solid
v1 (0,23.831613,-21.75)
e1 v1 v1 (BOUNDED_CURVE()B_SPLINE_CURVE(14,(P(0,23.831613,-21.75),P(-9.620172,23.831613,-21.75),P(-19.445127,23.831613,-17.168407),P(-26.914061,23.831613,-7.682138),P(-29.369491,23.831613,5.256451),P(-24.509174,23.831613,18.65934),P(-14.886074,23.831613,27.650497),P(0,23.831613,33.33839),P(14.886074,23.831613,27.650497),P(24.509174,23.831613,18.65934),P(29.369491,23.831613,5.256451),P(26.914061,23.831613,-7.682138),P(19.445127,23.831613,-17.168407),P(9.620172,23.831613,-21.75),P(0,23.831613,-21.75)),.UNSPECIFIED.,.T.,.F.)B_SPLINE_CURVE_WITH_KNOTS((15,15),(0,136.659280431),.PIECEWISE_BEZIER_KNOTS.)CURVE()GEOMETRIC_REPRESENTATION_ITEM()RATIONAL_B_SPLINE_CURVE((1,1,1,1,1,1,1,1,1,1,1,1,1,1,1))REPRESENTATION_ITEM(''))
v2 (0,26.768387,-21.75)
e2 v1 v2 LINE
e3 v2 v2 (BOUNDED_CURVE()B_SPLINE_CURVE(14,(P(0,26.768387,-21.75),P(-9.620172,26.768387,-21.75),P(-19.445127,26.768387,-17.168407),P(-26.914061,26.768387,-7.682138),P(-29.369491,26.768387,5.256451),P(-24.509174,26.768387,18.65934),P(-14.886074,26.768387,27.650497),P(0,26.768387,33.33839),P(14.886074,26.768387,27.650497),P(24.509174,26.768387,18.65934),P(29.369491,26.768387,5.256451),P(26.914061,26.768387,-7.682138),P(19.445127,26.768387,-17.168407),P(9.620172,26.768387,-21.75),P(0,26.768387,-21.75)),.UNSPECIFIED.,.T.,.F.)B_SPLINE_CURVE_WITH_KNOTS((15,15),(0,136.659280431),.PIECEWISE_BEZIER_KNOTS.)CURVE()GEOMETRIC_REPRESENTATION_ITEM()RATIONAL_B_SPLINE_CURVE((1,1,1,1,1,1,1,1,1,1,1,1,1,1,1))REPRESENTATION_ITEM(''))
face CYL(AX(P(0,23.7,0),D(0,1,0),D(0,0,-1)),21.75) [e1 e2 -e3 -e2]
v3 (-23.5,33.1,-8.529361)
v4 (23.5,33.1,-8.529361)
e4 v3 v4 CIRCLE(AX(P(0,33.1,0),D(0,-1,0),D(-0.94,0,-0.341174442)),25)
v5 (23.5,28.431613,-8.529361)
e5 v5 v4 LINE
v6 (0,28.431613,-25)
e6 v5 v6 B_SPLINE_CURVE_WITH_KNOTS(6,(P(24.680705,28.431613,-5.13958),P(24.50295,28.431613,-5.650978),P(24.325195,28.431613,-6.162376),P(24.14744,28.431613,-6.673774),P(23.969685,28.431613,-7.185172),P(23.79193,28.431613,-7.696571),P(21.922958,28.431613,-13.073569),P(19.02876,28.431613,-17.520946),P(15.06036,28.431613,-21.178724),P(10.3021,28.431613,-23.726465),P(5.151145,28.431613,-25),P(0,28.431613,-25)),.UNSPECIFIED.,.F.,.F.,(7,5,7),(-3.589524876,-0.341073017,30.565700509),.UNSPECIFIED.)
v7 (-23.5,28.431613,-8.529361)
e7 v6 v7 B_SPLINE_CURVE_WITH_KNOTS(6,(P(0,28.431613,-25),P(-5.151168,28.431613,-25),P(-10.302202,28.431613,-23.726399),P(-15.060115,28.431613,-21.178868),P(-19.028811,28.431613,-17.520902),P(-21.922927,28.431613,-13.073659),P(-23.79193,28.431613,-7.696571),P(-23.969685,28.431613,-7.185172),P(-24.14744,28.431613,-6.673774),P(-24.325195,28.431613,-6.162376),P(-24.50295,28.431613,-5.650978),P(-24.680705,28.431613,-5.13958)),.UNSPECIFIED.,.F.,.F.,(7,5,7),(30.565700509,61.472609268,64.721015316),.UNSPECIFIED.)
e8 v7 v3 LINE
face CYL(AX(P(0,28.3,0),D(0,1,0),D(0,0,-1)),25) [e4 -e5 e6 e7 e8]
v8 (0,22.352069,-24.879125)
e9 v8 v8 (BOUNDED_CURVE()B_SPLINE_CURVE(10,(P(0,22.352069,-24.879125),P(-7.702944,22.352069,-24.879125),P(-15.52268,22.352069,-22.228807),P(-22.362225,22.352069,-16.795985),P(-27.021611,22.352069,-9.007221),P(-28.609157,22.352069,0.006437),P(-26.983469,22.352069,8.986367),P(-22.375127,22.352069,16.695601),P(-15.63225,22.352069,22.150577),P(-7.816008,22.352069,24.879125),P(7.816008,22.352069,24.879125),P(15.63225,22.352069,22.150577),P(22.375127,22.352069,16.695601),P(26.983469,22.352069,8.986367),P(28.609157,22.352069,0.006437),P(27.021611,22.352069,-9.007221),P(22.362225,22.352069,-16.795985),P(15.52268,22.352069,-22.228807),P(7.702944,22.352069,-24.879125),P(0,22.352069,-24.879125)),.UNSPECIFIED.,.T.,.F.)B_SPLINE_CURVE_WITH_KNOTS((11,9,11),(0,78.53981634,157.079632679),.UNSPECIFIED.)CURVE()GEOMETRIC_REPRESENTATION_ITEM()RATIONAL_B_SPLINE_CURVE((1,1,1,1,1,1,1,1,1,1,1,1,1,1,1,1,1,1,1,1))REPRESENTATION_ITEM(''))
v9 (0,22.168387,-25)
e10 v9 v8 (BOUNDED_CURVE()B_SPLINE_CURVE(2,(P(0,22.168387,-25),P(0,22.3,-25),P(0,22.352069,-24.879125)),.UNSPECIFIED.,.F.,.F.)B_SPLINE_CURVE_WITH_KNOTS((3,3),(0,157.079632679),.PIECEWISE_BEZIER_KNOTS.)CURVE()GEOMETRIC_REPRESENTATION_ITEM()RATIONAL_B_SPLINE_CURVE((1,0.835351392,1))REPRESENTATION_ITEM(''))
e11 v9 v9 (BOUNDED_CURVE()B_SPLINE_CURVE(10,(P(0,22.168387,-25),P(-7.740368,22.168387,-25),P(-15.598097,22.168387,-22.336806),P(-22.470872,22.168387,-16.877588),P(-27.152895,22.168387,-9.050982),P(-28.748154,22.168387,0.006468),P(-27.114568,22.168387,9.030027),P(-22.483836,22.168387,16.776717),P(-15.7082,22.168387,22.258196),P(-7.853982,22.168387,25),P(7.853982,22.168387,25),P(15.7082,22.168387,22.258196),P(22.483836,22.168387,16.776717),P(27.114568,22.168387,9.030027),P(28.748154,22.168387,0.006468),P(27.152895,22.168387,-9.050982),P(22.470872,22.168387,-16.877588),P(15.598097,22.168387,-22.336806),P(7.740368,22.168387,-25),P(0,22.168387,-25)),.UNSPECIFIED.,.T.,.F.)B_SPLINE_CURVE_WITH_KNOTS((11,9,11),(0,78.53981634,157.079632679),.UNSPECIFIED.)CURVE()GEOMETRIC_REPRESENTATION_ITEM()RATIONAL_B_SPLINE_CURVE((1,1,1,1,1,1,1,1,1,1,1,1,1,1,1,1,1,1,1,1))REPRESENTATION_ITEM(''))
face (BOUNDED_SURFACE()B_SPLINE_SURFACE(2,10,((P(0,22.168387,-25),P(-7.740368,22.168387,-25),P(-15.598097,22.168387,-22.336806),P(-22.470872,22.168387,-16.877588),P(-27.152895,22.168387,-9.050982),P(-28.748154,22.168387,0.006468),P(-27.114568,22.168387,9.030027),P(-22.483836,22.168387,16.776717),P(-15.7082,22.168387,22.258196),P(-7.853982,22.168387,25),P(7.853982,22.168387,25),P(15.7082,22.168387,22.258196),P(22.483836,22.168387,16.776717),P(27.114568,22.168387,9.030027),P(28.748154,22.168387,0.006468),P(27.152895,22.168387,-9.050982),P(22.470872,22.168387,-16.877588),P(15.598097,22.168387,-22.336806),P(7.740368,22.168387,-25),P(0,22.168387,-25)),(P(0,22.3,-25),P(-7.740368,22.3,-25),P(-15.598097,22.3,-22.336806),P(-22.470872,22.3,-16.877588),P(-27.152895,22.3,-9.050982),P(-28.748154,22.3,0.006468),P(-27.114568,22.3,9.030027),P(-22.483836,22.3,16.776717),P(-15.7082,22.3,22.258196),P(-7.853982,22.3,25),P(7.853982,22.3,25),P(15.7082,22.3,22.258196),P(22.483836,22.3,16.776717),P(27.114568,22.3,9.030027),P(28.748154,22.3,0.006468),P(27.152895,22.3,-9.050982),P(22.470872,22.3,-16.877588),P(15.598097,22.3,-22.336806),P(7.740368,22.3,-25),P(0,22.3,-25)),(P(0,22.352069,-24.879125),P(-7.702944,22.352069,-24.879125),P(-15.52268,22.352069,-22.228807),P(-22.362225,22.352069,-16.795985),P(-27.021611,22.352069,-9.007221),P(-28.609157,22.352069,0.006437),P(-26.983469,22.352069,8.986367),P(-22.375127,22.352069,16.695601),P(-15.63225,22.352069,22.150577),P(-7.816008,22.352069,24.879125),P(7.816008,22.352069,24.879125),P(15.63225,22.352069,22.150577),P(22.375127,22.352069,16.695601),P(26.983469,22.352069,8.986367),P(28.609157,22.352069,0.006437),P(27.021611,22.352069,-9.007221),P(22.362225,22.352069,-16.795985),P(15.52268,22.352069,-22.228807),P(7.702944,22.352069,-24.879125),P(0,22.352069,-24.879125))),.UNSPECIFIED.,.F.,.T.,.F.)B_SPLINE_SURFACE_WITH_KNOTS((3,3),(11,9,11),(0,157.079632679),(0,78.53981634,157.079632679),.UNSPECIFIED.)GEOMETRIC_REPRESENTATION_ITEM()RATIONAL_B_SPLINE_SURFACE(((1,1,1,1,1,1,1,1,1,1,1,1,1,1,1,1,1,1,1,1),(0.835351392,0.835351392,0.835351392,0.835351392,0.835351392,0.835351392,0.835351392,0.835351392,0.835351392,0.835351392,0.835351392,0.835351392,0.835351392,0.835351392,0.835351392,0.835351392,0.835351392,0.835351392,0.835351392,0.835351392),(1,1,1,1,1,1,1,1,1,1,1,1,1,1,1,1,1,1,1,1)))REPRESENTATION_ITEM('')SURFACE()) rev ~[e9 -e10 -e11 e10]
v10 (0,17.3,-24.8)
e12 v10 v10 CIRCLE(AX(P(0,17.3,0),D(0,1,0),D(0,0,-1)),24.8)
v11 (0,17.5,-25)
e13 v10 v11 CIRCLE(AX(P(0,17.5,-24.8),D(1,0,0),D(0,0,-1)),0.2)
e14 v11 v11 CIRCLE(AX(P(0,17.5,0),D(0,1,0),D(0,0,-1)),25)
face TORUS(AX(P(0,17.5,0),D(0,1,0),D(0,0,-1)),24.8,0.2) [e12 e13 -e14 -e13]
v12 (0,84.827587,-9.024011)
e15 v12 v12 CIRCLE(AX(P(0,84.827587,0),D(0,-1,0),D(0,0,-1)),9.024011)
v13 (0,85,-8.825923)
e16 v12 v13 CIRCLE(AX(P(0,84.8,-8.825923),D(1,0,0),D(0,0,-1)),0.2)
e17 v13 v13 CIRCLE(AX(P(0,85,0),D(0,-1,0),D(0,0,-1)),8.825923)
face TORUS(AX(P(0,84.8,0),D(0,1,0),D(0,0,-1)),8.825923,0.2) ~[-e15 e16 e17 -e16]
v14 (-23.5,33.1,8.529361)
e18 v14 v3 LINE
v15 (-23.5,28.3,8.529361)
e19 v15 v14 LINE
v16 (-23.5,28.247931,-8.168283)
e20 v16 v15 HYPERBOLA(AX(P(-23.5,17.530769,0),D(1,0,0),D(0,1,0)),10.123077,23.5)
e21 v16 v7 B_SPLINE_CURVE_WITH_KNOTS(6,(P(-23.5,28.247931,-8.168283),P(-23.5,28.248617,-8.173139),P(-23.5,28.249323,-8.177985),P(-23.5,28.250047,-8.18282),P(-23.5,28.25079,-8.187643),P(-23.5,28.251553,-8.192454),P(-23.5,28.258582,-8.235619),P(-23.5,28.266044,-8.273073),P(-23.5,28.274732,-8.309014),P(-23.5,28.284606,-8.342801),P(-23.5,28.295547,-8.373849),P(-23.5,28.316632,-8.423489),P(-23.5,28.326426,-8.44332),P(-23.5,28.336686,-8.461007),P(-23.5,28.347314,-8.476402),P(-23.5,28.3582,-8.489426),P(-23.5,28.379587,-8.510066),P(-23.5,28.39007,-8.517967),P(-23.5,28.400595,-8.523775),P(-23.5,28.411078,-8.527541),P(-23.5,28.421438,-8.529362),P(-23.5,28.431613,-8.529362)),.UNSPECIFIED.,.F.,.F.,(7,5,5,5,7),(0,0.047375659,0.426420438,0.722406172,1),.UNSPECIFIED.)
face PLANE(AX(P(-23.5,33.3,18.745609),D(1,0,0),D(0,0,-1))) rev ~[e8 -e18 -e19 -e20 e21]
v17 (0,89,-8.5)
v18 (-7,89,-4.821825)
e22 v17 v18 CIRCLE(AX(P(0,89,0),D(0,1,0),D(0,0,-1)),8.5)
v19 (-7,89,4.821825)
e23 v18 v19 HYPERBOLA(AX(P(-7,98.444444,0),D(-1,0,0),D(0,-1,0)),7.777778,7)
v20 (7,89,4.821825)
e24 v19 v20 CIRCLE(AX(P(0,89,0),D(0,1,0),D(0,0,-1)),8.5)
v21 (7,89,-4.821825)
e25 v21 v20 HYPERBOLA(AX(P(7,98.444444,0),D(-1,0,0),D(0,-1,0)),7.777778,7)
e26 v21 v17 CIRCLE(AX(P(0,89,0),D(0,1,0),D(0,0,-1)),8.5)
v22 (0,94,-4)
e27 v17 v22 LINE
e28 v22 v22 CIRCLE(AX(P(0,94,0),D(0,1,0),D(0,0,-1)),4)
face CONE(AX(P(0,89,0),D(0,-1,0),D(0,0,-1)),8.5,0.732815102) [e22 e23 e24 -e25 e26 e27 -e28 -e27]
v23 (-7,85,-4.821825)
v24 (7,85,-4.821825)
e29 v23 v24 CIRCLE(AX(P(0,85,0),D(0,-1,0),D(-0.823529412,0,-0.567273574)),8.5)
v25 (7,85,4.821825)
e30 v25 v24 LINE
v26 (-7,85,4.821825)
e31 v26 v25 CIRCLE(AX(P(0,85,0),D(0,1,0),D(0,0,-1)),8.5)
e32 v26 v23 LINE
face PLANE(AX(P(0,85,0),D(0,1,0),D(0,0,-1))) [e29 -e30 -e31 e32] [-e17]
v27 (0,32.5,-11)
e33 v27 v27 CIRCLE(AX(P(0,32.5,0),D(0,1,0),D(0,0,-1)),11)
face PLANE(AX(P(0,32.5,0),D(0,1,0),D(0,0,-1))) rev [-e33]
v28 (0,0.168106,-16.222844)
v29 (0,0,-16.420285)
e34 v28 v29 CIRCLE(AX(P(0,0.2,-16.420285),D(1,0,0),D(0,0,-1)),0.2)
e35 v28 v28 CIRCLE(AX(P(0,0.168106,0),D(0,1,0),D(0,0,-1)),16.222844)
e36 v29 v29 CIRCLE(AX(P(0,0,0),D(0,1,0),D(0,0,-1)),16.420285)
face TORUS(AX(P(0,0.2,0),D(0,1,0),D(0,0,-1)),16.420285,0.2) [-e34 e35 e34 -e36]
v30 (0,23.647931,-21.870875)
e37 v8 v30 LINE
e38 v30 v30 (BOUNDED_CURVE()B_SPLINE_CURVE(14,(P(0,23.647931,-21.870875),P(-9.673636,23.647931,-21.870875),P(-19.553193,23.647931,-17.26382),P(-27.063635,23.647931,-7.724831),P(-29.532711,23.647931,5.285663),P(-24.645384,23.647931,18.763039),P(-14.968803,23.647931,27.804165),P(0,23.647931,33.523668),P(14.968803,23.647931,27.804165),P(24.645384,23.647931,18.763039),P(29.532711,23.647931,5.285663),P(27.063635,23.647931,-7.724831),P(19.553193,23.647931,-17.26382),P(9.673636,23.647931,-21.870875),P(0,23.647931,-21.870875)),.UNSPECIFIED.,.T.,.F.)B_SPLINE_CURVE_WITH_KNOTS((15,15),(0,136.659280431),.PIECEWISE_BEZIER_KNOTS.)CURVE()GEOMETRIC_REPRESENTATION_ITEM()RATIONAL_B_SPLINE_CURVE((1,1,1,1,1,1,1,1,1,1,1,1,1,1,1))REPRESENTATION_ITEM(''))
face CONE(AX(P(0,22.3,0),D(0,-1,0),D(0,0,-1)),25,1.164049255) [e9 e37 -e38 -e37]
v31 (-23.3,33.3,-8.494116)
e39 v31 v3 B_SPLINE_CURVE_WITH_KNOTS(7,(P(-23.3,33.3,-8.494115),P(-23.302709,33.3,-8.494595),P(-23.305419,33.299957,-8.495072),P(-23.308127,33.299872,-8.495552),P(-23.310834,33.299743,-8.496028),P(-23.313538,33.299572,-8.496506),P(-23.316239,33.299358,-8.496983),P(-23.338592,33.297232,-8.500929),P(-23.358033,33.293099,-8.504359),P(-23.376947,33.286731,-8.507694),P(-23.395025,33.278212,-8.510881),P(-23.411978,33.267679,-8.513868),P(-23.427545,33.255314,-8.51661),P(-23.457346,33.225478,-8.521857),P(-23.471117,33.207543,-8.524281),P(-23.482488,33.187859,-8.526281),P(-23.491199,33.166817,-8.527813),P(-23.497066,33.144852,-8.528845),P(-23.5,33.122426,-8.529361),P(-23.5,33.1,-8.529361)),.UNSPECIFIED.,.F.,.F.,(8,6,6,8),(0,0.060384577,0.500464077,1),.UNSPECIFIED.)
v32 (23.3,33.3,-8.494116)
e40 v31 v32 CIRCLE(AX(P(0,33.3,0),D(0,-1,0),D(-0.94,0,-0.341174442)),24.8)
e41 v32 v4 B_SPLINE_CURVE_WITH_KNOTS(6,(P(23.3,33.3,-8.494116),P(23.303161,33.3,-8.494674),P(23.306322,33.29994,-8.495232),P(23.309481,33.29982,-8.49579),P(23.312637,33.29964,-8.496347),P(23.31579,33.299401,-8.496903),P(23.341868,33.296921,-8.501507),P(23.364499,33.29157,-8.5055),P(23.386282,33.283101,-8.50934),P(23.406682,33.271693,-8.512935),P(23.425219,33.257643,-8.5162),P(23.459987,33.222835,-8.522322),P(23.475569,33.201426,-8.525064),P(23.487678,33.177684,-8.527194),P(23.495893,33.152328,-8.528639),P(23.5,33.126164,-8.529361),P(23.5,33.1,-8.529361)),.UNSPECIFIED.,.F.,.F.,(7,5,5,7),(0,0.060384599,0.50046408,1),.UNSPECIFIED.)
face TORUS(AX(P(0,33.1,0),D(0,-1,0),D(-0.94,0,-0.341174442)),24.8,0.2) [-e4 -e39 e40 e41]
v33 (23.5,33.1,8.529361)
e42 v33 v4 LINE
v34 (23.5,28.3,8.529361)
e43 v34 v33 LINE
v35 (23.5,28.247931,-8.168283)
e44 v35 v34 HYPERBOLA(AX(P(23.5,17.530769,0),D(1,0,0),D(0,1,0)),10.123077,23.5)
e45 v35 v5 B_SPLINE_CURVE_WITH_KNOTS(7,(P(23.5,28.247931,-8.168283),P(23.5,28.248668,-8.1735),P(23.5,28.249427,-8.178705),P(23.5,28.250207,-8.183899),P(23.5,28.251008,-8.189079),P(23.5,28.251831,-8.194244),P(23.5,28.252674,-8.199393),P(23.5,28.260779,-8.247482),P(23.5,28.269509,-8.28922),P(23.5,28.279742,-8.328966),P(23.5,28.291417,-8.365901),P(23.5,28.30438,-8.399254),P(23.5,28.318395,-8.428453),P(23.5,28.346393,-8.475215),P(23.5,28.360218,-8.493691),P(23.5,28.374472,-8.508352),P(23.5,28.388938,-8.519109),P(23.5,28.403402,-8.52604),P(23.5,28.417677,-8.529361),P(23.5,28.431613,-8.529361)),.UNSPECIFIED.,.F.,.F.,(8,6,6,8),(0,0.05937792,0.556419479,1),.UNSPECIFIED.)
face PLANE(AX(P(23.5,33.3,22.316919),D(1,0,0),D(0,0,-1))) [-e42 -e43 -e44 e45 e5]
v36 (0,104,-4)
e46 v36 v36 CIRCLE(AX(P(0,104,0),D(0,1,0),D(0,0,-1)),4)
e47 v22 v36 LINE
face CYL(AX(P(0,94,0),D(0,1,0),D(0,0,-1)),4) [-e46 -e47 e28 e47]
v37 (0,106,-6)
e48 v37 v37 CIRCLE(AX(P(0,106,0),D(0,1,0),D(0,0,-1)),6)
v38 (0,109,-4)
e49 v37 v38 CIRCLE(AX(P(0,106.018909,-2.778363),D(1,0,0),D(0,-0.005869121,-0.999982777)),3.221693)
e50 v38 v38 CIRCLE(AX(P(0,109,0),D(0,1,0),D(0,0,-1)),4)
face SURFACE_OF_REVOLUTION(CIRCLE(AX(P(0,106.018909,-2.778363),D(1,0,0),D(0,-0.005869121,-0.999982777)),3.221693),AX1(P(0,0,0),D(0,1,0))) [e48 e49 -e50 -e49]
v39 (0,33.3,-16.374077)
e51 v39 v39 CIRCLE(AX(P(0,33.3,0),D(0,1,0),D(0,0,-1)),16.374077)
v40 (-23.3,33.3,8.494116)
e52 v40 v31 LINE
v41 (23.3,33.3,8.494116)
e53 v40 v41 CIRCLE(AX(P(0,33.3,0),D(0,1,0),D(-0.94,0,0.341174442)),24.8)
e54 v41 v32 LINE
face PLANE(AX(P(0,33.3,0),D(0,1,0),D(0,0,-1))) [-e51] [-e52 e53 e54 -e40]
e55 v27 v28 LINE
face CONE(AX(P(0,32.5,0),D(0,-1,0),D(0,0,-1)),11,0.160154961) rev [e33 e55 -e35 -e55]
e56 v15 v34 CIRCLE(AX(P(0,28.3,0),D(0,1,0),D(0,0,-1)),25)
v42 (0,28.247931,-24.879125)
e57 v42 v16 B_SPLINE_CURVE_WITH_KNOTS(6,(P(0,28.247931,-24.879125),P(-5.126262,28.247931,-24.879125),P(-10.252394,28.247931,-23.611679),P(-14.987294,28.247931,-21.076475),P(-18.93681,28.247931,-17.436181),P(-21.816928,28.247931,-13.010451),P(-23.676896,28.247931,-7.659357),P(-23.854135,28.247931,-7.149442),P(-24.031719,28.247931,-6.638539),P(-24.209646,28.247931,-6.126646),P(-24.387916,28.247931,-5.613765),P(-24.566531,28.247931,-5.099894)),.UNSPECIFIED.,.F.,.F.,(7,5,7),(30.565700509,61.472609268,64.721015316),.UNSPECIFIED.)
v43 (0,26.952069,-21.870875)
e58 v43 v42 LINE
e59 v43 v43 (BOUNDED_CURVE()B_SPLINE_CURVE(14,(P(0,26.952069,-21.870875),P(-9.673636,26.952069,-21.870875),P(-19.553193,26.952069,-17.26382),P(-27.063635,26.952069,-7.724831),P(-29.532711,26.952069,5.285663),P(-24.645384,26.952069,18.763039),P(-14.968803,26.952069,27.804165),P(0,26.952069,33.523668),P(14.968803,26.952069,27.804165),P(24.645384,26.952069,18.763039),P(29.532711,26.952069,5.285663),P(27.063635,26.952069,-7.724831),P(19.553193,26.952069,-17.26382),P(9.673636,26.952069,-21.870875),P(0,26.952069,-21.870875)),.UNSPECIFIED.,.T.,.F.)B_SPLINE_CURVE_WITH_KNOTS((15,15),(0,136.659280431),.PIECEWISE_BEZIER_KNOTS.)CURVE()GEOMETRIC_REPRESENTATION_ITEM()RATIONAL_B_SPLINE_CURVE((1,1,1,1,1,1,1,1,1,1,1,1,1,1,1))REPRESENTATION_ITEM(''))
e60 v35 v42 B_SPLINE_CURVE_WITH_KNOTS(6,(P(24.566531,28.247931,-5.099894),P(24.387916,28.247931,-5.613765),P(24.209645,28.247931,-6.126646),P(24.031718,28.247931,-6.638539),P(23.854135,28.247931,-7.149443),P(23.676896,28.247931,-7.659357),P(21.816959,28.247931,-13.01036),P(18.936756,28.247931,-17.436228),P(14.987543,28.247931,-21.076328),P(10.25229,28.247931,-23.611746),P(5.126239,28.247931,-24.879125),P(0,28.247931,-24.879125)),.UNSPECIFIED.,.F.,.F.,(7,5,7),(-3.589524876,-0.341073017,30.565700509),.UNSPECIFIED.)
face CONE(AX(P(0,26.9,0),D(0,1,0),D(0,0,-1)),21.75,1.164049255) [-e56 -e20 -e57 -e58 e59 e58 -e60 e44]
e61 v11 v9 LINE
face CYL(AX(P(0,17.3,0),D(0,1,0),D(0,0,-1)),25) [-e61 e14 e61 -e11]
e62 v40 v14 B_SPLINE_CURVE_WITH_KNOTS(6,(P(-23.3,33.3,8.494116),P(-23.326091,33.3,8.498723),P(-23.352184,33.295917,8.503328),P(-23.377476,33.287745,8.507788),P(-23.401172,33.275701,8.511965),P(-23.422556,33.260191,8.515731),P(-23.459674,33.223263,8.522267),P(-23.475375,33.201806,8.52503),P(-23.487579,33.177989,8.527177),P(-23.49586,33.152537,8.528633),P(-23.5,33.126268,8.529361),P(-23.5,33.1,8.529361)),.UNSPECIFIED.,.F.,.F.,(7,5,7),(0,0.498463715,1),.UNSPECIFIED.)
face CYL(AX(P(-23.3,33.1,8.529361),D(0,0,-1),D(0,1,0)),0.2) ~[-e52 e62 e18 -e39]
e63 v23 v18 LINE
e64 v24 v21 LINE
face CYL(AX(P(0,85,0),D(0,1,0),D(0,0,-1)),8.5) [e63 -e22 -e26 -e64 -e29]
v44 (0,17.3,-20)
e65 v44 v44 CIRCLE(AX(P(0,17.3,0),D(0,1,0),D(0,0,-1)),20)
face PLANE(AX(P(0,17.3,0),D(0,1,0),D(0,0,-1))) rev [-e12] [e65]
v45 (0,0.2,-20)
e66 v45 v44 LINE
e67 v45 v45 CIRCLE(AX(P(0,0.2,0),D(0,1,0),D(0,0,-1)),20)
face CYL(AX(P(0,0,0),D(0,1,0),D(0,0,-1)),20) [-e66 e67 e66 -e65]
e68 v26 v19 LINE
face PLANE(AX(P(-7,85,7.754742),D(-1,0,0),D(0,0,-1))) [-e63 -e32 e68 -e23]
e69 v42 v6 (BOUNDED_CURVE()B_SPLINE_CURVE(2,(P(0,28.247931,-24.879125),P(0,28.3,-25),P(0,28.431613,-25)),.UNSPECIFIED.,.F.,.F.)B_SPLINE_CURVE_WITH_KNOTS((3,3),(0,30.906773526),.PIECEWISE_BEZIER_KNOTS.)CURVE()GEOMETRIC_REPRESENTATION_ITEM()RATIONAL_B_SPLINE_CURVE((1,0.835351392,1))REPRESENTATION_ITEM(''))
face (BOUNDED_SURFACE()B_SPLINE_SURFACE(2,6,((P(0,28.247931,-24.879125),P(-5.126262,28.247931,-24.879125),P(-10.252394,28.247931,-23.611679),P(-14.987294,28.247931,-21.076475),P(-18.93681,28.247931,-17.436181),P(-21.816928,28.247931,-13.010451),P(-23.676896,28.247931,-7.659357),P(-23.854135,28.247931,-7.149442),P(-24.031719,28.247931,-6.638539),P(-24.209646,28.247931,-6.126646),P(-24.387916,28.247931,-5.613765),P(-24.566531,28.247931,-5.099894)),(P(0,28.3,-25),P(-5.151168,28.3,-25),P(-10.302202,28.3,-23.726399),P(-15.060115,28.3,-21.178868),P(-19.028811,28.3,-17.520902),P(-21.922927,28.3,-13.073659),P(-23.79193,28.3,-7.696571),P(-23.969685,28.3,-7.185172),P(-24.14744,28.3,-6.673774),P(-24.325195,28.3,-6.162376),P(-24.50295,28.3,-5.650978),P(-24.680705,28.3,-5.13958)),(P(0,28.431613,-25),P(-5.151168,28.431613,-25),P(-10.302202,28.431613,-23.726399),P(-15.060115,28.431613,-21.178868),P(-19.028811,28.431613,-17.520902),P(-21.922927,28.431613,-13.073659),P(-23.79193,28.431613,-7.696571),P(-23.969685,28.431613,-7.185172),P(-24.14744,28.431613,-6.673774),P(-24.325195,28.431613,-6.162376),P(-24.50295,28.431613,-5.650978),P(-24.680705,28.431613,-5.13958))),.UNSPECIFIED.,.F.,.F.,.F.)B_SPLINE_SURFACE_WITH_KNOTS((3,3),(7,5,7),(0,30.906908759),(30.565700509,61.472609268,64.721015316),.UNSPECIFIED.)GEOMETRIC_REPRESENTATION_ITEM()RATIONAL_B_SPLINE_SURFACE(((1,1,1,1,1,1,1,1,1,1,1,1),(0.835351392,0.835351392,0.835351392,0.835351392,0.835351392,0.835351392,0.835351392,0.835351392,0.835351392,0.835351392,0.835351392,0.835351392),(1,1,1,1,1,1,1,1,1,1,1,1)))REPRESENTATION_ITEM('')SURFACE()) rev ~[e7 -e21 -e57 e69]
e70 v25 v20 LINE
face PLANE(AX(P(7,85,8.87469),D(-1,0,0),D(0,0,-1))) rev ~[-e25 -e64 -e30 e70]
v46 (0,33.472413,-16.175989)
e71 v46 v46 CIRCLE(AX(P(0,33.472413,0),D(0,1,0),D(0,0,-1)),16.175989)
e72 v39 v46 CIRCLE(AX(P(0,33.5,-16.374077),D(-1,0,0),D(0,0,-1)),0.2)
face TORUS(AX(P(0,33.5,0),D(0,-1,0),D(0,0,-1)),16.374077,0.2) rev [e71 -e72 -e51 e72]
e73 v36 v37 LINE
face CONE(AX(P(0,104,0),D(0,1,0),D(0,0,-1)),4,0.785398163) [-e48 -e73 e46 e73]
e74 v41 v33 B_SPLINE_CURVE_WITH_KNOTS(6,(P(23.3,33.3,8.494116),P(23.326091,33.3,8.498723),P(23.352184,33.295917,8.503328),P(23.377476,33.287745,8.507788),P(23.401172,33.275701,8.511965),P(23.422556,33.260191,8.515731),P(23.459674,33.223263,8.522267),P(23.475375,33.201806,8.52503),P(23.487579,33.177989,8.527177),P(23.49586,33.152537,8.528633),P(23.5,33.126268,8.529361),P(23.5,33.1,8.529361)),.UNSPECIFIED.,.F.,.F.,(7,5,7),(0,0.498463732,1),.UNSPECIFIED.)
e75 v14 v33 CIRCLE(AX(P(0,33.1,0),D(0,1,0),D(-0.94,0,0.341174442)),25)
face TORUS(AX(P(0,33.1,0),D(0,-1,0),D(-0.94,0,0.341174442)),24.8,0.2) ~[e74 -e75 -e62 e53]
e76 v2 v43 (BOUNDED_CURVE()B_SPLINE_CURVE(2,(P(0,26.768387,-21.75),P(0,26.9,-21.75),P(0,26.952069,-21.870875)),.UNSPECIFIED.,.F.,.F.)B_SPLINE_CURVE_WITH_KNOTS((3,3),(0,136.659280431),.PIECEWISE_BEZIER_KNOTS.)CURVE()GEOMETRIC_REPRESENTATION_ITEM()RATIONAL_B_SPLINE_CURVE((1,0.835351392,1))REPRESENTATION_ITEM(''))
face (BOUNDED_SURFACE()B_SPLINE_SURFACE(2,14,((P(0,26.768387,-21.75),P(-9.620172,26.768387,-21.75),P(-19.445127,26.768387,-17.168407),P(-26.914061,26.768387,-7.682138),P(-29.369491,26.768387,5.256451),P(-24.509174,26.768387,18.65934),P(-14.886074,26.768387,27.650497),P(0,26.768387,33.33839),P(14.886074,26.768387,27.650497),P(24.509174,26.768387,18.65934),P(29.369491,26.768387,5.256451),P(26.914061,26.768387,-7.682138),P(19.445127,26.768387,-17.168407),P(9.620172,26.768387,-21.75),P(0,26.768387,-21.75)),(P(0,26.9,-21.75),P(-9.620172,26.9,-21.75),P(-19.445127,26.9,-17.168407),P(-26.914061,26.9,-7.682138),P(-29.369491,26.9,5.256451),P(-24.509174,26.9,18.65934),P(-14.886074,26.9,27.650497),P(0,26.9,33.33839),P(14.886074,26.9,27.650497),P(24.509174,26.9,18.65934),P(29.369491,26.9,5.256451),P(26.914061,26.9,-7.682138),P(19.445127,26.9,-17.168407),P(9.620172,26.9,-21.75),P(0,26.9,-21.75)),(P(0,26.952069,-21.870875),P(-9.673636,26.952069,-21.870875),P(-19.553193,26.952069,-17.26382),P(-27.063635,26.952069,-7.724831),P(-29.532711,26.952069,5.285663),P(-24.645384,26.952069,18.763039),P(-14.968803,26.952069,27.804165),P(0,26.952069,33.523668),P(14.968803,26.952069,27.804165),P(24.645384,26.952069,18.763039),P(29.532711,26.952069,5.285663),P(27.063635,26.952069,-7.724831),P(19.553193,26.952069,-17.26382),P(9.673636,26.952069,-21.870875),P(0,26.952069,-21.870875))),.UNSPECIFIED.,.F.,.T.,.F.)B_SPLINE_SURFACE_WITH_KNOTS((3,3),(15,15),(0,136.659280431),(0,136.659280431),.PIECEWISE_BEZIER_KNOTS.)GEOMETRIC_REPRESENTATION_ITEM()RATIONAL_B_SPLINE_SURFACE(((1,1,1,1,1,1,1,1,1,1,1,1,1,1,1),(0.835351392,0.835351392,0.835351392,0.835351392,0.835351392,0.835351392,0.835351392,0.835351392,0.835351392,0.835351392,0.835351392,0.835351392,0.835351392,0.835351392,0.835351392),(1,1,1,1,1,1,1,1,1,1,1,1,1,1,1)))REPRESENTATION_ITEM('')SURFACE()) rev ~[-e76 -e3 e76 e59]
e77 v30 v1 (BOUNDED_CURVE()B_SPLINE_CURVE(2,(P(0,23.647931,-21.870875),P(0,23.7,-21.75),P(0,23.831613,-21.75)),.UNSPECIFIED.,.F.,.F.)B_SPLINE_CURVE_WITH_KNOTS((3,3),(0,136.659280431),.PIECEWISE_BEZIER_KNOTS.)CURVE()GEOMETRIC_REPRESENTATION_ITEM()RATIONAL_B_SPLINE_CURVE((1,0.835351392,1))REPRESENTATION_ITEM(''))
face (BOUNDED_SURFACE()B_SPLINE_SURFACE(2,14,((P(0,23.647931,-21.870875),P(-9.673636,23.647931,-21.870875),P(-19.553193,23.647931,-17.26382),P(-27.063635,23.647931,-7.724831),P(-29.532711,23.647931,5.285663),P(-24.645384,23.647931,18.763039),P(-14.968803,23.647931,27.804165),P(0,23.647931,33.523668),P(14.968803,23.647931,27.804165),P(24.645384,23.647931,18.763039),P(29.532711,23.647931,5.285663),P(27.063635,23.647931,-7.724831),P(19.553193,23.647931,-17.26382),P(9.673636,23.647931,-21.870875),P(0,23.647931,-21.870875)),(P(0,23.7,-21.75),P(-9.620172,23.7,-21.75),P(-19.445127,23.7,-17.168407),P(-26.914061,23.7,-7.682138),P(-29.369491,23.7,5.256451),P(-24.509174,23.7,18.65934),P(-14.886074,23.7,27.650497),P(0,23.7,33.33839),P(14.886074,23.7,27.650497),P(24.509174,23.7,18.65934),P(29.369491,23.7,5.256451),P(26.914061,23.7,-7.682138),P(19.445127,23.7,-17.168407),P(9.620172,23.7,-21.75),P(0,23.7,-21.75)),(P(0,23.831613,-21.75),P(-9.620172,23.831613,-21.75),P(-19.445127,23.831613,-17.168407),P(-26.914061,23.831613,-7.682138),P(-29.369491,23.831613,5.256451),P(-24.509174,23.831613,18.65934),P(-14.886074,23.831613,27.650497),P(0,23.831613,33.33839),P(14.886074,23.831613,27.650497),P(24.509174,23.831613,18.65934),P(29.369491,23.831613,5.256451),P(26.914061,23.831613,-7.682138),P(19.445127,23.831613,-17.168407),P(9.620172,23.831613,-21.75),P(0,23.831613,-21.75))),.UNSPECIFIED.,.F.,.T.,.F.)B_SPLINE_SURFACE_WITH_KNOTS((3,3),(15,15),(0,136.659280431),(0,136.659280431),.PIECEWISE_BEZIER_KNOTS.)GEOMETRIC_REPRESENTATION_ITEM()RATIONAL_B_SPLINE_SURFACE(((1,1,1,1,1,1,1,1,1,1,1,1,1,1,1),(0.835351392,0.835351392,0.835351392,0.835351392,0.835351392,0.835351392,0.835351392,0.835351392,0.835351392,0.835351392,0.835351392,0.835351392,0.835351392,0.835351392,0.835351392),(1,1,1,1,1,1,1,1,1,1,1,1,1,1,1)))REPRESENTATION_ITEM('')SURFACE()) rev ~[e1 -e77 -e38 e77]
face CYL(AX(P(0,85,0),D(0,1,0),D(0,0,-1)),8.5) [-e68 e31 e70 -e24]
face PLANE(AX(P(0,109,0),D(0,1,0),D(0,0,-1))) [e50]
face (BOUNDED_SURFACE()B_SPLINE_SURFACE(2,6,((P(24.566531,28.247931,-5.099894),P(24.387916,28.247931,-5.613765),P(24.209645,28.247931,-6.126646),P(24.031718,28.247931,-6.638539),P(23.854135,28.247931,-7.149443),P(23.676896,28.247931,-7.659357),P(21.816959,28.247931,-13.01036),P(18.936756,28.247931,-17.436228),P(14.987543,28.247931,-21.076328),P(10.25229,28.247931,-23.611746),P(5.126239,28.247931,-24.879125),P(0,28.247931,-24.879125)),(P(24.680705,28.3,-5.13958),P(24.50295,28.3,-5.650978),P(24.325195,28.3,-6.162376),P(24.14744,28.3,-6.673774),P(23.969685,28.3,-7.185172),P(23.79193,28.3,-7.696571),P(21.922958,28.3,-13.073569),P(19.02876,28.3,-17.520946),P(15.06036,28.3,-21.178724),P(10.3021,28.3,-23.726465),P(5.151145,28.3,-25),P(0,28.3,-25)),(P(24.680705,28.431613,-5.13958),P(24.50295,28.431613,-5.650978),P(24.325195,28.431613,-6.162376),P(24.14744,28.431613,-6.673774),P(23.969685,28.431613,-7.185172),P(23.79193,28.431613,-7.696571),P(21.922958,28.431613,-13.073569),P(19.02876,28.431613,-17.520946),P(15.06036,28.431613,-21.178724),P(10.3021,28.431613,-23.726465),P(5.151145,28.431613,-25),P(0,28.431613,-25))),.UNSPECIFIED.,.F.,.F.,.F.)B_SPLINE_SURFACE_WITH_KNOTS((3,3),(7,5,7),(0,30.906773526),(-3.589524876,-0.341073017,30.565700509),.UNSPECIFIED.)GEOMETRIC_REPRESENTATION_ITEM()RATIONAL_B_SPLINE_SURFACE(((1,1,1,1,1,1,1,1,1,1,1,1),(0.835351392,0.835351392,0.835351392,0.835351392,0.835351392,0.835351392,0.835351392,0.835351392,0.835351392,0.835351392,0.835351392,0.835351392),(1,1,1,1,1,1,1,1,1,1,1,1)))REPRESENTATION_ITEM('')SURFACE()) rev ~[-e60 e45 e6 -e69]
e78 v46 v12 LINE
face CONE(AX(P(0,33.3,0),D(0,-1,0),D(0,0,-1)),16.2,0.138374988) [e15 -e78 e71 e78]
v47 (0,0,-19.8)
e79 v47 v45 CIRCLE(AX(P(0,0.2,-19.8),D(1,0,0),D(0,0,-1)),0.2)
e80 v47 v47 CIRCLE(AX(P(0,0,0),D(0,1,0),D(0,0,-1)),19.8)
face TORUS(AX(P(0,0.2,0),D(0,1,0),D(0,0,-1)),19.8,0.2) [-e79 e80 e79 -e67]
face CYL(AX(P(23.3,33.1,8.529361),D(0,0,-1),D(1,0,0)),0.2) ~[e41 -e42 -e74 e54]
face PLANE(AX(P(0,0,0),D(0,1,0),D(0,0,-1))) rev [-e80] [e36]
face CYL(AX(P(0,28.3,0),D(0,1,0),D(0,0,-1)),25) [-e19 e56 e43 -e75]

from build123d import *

# Parameters (mm, degrees)
SKETCH_2_W          = 22.739773216
SKETCH_2_H          = 47.155875868
SKETCH_2_W_2        = 18.439623794
SKETCH_2_H_2        = 50.144115297
CUT_EXTRUDE_1_DEPTH = 10
SKETCH_3_W          = 5.385282973
SKETCH_3_H          = 13.963609834
SKETCH_3_W_2        = 7.005633603
SKETCH_3_H_2        = 16.441793149
CUT_EXTRUDE_2_DEPTH = 11
FILLET_1_R          = 0.2


with BuildPart() as part:
    # Эскиз1 → Повернуть1 (revolve)
    with BuildSketch(Plane.XY, mode=Mode.PRIVATE) as revolve_1_sk:
        with BuildLine():
            Line((0, 32.5), (11, 32.5))
            Line((11, 32.5), (16.25, 0))
            Line((16.25, 0), (20, 0))
            Line((20, 0), (20, 17.3))
            Line((20, 17.3), (25, 17.3))
            Line((25, 17.3), (25, 22.3))
            Line((25, 22.3), (21.75, 23.7))
            Line((21.75, 23.7), (21.75, 26.9))
            Line((21.75, 26.9), (25, 28.3))
            Line((25, 28.3), (25, 33.3))
            Line((25, 33.3), (16.2, 33.3))
            Line((16.2, 33.3), (9, 85))
            Line((9, 85), (8.5, 85))
            Line((8.5, 85), (8.5, 89))
            Line((8.5, 89), (4, 94))
            Line((4, 94), (4, 104))
            Line((4, 104), (6, 106))
            ThreePointArc((6, 106), (5.458973143, 107.805982095), (4, 109))
            Line((4, 109), (0, 109))
            Line((0, 109), (0, 32.5))
        make_face()
    revolve(revolve_1_sk.sketch.rotate(Axis((0, 0, 0), (0, 1, 0)), 90), axis=Axis((0, 0, 0), (0, 1, 0)))

    # Эскиз2 → Вырез-Вытянуть1 (cut)
    with BuildSketch(Plane(origin=(0, 33.3, 0), x_dir=(1, 0, 0), z_dir=(0, 1, 0))):
        with Locations((-34.869886608, 4.83232903)):
            Rectangle(SKETCH_2_W, SKETCH_2_H)
        with Locations((32.719811897, 2.755138207)):
            Rectangle(SKETCH_2_W_2, SKETCH_2_H_2)
    extrude(amount=-CUT_EXTRUDE_1_DEPTH, mode=Mode.SUBTRACT)

    # Эскиз3 → Вырез-Вытянуть2 (cut)
    with BuildSketch(Plane(origin=(0, 85, 0), x_dir=(1, 0, 0), z_dir=(0, 1, 0))):
        with Locations((-9.692641487, -0.772936865)):
            Rectangle(SKETCH_3_W, SKETCH_3_H)
        with Locations((10.502816801, -0.653793436)):
            Rectangle(SKETCH_3_W_2, SKETCH_3_H_2)
    extrude(amount=CUT_EXTRUDE_2_DEPTH, mode=Mode.SUBTRACT)

    # Скругление1
    fillet_1_edges = [part.edges().sort_by_distance(p)[0] for p in [
        (0, 23.7, 21.75),
        (0, 26.9, 21.75),
        (0, 33.3, 16.2),
        (0, 33.3, -25),
        (0, 33.3, 25),
        (-23.5, 33.3, 0),
        (23.5, 33.3, 0),
        (0, 0, 16.25),
        (0, 0, 20),
        (0, 22.3, 25),
        (-14.348623168, 28.3, -20.472347525),
        (0, 17.3, 25),
        (0, 85, 9),
    ]]
    fillet(fillet_1_edges, radius=FILLET_1_R)


solid = part.part
